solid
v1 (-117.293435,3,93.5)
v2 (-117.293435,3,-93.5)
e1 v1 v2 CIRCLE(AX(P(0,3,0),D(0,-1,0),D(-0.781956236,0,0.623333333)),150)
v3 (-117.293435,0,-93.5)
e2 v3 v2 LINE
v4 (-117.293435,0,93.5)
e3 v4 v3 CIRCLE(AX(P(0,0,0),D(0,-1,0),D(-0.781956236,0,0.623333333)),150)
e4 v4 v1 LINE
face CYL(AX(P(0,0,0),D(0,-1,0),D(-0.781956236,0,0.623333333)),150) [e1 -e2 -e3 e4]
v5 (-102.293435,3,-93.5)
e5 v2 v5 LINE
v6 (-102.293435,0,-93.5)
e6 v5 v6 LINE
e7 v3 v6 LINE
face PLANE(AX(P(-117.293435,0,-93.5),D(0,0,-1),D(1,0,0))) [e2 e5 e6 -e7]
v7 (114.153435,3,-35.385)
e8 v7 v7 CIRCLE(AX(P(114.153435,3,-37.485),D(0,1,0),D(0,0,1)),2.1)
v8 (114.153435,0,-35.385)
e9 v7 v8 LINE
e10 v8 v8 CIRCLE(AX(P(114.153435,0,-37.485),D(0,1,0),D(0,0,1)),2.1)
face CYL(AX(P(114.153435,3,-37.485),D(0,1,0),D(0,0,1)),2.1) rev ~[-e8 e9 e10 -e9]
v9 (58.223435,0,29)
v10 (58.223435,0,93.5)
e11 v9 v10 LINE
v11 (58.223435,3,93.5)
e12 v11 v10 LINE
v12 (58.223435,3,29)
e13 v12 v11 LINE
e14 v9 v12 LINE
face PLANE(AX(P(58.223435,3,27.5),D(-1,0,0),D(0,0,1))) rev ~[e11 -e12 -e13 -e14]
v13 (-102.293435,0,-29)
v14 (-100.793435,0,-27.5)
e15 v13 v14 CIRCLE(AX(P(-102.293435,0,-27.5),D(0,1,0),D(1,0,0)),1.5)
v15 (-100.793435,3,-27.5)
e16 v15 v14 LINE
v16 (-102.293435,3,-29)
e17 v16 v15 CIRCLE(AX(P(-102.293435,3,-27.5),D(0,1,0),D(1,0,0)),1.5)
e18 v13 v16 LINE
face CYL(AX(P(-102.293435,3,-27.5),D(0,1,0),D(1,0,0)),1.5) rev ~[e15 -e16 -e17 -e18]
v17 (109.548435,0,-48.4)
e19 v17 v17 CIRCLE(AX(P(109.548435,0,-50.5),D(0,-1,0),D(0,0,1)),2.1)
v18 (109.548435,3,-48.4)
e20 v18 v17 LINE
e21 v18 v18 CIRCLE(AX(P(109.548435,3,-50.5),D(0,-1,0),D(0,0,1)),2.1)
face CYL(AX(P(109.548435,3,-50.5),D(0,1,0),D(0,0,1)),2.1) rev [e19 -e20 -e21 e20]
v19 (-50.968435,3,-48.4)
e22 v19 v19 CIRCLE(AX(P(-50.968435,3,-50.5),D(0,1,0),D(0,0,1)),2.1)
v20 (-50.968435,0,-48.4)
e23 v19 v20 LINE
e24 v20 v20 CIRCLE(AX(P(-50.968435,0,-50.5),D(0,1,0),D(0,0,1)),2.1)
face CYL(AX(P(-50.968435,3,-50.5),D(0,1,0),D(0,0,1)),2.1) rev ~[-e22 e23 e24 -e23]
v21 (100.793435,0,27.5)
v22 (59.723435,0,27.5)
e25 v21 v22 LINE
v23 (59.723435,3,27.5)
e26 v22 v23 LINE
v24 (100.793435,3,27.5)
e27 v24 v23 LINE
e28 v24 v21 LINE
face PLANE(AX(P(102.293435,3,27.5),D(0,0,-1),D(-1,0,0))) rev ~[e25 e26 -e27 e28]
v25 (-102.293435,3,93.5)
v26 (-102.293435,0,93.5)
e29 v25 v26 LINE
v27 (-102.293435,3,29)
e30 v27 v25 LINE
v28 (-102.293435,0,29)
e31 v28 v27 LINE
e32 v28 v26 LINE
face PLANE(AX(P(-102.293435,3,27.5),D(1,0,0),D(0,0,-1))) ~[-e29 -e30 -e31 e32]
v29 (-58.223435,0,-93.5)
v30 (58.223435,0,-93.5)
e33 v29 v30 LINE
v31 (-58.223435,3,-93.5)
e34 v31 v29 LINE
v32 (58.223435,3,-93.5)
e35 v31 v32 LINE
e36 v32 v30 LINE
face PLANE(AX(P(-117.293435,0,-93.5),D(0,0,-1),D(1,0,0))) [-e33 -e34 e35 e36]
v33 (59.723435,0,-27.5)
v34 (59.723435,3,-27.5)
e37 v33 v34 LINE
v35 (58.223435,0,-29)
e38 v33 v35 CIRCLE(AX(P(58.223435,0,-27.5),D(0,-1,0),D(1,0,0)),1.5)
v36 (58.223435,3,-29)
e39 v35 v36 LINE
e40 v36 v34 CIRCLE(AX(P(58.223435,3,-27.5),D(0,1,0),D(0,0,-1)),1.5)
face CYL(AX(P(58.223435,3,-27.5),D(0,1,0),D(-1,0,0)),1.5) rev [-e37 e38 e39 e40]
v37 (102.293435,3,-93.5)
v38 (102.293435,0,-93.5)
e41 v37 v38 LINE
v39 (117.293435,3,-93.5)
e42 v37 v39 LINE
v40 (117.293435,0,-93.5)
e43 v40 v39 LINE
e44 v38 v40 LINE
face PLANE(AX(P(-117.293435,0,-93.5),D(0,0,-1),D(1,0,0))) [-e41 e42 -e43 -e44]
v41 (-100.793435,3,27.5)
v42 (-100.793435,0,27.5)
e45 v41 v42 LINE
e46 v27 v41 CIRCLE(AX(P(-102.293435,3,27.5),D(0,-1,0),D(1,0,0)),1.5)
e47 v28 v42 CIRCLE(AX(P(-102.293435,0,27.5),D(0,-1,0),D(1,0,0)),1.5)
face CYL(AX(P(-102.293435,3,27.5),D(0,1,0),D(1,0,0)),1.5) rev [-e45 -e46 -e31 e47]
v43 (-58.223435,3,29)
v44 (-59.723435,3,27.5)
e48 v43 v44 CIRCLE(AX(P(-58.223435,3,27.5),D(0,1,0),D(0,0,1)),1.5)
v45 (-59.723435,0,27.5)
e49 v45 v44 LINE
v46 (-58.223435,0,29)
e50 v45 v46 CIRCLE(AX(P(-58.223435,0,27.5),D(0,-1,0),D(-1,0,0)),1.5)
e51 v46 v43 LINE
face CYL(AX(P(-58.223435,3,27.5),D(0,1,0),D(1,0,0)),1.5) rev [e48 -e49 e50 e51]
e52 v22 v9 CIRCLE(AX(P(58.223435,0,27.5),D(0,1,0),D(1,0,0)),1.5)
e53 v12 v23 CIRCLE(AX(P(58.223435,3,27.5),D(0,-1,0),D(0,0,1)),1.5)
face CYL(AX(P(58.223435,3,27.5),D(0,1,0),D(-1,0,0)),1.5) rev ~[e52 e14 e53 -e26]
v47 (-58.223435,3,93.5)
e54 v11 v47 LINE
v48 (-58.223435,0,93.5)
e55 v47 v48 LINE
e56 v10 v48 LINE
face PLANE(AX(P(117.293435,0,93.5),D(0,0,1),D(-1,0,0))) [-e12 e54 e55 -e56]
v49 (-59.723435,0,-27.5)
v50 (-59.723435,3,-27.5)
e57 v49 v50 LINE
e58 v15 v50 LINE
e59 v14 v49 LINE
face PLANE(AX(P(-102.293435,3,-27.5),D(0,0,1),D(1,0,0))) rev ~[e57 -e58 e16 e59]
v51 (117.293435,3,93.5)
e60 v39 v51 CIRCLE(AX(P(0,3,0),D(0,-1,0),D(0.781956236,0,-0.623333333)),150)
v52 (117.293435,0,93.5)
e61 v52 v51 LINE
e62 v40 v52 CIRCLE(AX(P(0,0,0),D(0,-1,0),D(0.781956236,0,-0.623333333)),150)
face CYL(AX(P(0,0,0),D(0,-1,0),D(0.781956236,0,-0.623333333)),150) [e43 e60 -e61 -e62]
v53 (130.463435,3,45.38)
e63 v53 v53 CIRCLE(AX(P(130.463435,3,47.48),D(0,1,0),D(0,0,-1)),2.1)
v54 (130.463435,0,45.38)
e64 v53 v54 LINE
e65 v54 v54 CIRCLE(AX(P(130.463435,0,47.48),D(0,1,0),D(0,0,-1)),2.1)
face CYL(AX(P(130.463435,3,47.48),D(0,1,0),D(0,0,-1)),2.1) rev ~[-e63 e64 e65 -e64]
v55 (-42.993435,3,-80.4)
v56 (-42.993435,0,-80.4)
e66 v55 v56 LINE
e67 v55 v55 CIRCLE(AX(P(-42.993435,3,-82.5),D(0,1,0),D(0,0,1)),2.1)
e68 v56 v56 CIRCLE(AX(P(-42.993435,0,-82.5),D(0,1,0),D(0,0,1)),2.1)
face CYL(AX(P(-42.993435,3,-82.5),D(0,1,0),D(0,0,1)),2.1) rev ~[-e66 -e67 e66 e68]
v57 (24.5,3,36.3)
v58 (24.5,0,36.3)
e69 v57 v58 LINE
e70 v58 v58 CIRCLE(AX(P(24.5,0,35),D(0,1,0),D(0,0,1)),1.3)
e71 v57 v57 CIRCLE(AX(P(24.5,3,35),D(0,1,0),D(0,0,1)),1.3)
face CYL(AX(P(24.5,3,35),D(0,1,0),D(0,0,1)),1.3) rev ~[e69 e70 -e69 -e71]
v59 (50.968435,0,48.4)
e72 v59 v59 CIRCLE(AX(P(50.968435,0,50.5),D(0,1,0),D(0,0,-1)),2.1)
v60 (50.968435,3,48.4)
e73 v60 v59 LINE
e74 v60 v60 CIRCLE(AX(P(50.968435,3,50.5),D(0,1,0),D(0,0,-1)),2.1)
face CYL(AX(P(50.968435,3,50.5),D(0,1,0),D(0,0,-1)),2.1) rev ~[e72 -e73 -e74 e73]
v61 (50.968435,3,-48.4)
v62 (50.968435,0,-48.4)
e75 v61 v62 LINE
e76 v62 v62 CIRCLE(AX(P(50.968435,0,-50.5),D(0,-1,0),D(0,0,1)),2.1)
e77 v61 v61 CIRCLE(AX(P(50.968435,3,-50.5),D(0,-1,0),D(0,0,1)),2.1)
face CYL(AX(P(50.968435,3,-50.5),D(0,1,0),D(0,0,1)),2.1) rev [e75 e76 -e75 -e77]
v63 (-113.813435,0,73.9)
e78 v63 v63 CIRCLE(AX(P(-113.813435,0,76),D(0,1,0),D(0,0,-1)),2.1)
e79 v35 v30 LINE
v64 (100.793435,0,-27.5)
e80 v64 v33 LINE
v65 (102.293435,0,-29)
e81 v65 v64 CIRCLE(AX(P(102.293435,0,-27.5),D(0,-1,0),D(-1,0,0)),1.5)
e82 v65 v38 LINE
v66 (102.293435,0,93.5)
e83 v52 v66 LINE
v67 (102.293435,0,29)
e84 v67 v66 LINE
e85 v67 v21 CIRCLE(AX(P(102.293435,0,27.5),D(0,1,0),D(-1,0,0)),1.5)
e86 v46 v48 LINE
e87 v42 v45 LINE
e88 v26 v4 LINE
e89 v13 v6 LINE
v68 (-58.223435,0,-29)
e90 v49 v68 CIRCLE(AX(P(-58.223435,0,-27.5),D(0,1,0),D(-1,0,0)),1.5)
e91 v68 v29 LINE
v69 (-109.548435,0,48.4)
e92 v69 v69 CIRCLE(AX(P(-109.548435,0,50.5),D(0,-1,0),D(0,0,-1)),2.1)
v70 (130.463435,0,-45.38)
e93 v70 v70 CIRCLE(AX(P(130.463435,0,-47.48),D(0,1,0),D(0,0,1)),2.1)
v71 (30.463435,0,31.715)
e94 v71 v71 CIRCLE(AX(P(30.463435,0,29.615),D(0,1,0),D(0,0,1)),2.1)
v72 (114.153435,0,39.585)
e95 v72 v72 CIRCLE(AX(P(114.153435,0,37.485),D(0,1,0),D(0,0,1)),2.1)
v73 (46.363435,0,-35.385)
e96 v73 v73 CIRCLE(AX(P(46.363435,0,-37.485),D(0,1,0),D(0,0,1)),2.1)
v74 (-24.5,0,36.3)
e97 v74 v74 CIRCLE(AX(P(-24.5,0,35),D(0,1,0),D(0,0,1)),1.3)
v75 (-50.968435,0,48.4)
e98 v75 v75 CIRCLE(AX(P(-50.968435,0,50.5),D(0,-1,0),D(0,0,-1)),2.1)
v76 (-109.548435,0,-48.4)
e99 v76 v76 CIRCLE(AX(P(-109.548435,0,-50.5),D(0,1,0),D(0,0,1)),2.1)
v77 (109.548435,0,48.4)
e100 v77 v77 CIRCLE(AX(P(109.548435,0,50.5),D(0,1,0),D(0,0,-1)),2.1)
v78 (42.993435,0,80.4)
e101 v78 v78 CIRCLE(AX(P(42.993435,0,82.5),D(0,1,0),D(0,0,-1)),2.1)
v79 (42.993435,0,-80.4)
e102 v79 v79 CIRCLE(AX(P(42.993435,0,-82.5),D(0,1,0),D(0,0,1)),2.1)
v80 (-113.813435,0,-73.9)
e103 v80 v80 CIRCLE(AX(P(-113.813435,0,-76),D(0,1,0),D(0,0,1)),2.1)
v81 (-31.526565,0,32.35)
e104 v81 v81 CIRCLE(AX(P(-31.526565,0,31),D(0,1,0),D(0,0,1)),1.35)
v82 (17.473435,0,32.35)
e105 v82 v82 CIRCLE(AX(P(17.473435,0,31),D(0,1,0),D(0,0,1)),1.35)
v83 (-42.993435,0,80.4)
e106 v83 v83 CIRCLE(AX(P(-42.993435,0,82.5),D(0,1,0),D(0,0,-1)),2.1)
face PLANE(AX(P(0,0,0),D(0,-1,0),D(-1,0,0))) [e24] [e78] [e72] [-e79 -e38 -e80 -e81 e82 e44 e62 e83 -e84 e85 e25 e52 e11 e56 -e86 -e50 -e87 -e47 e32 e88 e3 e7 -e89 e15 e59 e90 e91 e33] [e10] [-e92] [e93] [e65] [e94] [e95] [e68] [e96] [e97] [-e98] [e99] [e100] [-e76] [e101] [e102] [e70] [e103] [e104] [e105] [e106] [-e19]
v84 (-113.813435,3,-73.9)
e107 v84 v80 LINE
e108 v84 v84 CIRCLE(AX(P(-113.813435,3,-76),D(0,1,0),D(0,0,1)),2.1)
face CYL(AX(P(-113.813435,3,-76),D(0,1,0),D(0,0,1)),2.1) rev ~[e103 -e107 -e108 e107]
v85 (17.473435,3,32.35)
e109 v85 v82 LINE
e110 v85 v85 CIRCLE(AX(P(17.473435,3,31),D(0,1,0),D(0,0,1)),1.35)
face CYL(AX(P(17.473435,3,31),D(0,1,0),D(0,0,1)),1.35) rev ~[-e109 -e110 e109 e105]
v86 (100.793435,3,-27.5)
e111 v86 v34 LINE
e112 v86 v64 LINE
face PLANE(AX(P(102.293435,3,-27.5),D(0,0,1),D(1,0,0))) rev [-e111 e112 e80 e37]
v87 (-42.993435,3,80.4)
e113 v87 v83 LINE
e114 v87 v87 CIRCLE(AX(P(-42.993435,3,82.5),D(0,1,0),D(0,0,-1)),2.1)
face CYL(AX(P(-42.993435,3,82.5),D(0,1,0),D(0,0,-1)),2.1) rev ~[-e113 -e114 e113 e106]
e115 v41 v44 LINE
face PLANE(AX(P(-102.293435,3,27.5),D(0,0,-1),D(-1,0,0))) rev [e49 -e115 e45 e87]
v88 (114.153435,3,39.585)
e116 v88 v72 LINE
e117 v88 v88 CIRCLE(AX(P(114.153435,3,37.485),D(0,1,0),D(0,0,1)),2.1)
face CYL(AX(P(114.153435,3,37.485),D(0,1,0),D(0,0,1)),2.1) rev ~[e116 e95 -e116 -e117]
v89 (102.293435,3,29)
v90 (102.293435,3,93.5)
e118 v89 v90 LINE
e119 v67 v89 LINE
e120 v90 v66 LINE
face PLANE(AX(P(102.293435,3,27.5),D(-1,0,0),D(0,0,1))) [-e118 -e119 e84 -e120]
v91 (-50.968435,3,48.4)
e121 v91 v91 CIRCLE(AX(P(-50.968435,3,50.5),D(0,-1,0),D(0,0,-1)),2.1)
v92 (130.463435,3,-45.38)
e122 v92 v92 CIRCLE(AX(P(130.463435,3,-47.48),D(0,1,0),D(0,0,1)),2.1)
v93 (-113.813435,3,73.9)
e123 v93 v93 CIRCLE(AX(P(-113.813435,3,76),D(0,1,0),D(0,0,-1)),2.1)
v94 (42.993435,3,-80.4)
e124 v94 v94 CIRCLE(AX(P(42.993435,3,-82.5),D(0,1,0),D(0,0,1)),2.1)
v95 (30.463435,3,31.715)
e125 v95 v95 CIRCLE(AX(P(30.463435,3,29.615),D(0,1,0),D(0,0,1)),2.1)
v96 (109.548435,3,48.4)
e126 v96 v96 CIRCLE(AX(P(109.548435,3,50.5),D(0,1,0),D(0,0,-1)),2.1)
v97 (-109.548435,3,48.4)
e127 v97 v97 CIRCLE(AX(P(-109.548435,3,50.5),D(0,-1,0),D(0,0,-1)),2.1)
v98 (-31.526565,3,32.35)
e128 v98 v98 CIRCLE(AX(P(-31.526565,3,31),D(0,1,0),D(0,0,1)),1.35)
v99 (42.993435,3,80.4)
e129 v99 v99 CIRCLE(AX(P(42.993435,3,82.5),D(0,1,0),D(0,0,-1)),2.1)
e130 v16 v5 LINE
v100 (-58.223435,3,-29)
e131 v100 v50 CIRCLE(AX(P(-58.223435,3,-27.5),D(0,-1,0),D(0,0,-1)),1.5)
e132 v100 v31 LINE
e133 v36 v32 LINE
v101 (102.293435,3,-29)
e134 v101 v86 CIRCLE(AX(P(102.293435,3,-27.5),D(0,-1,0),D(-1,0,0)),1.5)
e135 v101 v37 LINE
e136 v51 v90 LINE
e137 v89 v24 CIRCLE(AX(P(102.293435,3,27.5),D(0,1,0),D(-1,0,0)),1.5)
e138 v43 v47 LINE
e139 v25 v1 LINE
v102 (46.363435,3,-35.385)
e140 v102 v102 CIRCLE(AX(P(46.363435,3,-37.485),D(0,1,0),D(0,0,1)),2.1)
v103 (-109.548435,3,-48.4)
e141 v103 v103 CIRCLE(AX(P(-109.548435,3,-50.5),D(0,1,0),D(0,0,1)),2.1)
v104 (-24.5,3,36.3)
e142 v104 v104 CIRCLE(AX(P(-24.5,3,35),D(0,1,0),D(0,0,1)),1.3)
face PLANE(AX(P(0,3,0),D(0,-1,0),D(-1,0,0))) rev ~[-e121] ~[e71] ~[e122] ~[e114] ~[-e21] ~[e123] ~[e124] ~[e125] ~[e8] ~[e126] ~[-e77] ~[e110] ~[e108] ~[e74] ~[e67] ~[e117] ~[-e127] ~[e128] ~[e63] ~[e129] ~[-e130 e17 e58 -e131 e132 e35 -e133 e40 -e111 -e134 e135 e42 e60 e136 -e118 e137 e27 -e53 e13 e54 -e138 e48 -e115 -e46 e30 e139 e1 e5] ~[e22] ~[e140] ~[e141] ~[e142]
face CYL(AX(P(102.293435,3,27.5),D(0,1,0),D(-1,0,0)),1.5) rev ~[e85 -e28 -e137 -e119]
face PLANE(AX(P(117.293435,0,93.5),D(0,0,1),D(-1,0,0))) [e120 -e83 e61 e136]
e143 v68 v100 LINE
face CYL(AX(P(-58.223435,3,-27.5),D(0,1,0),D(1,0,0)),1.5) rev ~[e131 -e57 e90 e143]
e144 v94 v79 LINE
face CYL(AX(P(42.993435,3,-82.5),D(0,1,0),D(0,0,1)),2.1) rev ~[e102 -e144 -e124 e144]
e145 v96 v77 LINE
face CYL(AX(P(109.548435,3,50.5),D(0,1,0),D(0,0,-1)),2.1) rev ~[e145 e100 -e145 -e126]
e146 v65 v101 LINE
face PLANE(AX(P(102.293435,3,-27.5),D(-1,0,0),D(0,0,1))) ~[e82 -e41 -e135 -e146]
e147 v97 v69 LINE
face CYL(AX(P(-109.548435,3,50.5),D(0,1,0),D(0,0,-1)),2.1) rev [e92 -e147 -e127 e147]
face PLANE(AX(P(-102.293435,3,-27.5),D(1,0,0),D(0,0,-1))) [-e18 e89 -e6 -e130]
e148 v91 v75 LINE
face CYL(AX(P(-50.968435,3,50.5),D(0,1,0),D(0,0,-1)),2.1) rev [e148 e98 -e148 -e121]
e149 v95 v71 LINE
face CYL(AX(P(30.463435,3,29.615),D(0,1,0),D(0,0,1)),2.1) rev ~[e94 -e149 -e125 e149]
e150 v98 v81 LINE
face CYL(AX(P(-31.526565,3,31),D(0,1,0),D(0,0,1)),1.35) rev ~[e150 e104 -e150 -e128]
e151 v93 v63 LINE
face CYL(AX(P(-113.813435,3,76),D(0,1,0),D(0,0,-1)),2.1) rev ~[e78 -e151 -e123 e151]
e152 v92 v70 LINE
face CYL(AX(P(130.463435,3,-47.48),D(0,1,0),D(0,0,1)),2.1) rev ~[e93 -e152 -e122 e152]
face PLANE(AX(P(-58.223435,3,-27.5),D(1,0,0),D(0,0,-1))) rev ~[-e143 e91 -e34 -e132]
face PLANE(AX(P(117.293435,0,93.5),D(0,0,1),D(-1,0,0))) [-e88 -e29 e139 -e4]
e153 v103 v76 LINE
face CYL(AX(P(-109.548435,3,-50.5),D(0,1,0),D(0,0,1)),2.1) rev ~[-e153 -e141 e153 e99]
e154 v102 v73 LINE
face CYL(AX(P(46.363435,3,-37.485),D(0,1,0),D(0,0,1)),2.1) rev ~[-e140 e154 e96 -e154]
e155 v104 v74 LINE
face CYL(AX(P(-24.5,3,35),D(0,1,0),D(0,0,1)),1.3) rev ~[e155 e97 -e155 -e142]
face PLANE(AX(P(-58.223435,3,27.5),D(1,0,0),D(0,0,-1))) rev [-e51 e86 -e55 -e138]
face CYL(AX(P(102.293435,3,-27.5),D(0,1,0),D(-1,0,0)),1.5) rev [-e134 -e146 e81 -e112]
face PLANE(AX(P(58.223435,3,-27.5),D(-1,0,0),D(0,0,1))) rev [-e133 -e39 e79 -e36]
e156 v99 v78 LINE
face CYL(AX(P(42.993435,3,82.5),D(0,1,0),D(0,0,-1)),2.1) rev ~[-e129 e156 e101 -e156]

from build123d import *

# Parameters (mm, degrees)
BOSS_EXTRUDE1_DEPTH                        = 3
CUT_EXTRUDE1_REACH                         = 178.78
SKETCH2_R                                  = 2.1
SKETCH2_W                                  = 44.07
SKETCH2_H                                  = 66
MIRROR4_AT_THE_SECOND_PLANE_COPY_1_REACH   = 178.78
MIRROR4_AT_THE_SECOND_PLANE_COPY_1_SKETC_R = 2.1
MIRROR4_AT_THE_SECOND_PLANE_COPY_1_SKETC_W = 44.07
MIRROR4_AT_THE_SECOND_PLANE_COPY_1_SKETC_H = 66
SKETCH3_R                                  = 2.1
CUT_EXTRUDE2_DEPTH                         = 177.780230795
CUT_EXTRUDE5_REACH                         = 178.78
SKETCH6_R                                  = 1.35
SKETCH6_R_2                                = 2.1
SKETCH6_R_3                                = 1.3
CUT_EXTRUDE12_REACH                        = 178.78
SKETCH13_R                                 = 1.5
MIRROR6_AT_THE_SECOND_PLANE_COPY_1_REACH   = 178.78
MIRROR6_AT_THE_SECOND_PLANE_COPY_1_SKETC_R = 1.5


with BuildPart() as part:
    # Sketch1 → Boss-Extrude1 (new body)
    with BuildSketch(Plane(origin=(0, 0, 0), x_dir=(1, 0, 0), z_dir=(0, 1, 0))):
        with BuildLine():
            Line((-117.293435451, 93.5), (117.293435451, 93.5))
            ThreePointArc((117.293435451, 93.5), (150, 0), (117.293435451, -93.5))
            Line((117.293435451, -93.5), (-117.293435451, -93.5))
            ThreePointArc((-117.293435451, -93.5), (-150, 0), (-117.293435451, 93.5))
        make_face()
    extrude(amount=BOSS_EXTRUDE1_DEPTH)

    # Sketch2 → Cut-Extrude1 (cut, up to next)
    with BuildSketch(Plane(origin=(0, 3, 0), x_dir=(1, 0, 0), z_dir=(0, 1, 0)), mode=Mode.PRIVATE) as cut_extrude1_sk1:
        with Locations((-109.548435451, 50.5)):
            Circle(SKETCH2_R)
    cut_extrude1_tool1 = extrude(cut_extrude1_sk1.sketch, amount=-CUT_EXTRUDE1_REACH, mode=Mode.PRIVATE) & part.part
    # Sketch2 → Cut-Extrude1 (cut, up to next)
    with BuildSketch(Plane(origin=(0, 3, 0), x_dir=(1, 0, 0), z_dir=(0, 1, 0)), mode=Mode.PRIVATE) as cut_extrude1_sk2:
        with Locations((-50.968435451, 50.5)):
            Circle(SKETCH2_R)
    cut_extrude1_tool2 = extrude(cut_extrude1_sk2.sketch, amount=-CUT_EXTRUDE1_REACH, mode=Mode.PRIVATE) & part.part
    # Sketch2 → Cut-Extrude1 (cut, up to next)
    with BuildSketch(Plane(origin=(0, 3, 0), x_dir=(1, 0, 0), z_dir=(0, 1, 0)), mode=Mode.PRIVATE) as cut_extrude1_sk3:
        with Locations((-80.258435451, 60.5)):
            Rectangle(SKETCH2_W, SKETCH2_H)
    cut_extrude1_tool3 = extrude(cut_extrude1_sk3.sketch, amount=-CUT_EXTRUDE1_REACH, mode=Mode.PRIVATE) & part.part
    cut_extrude1_1 = cut_extrude1_tool1.solids().sort_by_distance((-109.548435, 3, -50.5))[0]
    add(cut_extrude1_1, mode=Mode.SUBTRACT)
    cut_extrude1_2 = cut_extrude1_tool2.solids().sort_by_distance((-50.968435, 3, -50.5))[0]
    add(cut_extrude1_2, mode=Mode.SUBTRACT)
    cut_extrude1_3 = cut_extrude1_tool3.solids().sort_by_distance((-80.258435, 3, -60.5))[0]
    add(cut_extrude1_3, mode=Mode.SUBTRACT)
    cut_extrude1 = cut_extrude1_1 + cut_extrude1_2 + cut_extrude1_3  # Cut-Extrude1 as one shape, for the pattern or mirror that repeats it

    # Mirror4: Cut-Extrude1 across plane
    add(cut_extrude1.mirror(Plane.XY), mode=Mode.SUBTRACT)

    # Mirror4 at the second plane: Cut-Extrude1 across plane
    add(cut_extrude1.mirror(Plane(origin=(0, 0, 0), x_dir=(0, 0, 1), z_dir=(1, 0, 0))), mode=Mode.SUBTRACT)

    # Mirror4 at the second plane copy 1 sketc → Mirror4 at the second plane copy 1 (cut, up to next)
    with BuildSketch(Plane(origin=(0, 3, 0), x_dir=(-1, 0, 0), z_dir=(0, 1, 0)), mode=Mode.PRIVATE) as mirror4_at_the_second_plane_copy_1_sk1:
        with Locations((-109.548435451, 50.5)):
            Circle(MIRROR4_AT_THE_SECOND_PLANE_COPY_1_SKETC_R)
    mirror4_at_the_second_plane_copy_1_tool1 = extrude(mirror4_at_the_second_plane_copy_1_sk1.sketch, amount=-MIRROR4_AT_THE_SECOND_PLANE_COPY_1_REACH, mode=Mode.PRIVATE) & part.part
    # Mirror4 at the second plane copy 1 sketc → Mirror4 at the second plane copy 1 (cut, up to next)
    with BuildSketch(Plane(origin=(0, 3, 0), x_dir=(-1, 0, 0), z_dir=(0, 1, 0)), mode=Mode.PRIVATE) as mirror4_at_the_second_plane_copy_1_sk2:
        with Locations((-50.968435451, 50.5)):
            Circle(MIRROR4_AT_THE_SECOND_PLANE_COPY_1_SKETC_R)
    mirror4_at_the_second_plane_copy_1_tool2 = extrude(mirror4_at_the_second_plane_copy_1_sk2.sketch, amount=-MIRROR4_AT_THE_SECOND_PLANE_COPY_1_REACH, mode=Mode.PRIVATE) & part.part
    # Mirror4 at the second plane copy 1 sketc → Mirror4 at the second plane copy 1 (cut, up to next)
    with BuildSketch(Plane(origin=(0, 3, 0), x_dir=(-1, 0, 0), z_dir=(0, 1, 0)), mode=Mode.PRIVATE) as mirror4_at_the_second_plane_copy_1_sk3:
        with Locations((-80.258435451, 60.5)):
            Rectangle(MIRROR4_AT_THE_SECOND_PLANE_COPY_1_SKETC_W, MIRROR4_AT_THE_SECOND_PLANE_COPY_1_SKETC_H)
    mirror4_at_the_second_plane_copy_1_tool3 = extrude(mirror4_at_the_second_plane_copy_1_sk3.sketch, amount=-MIRROR4_AT_THE_SECOND_PLANE_COPY_1_REACH, mode=Mode.PRIVATE) & part.part
    add(mirror4_at_the_second_plane_copy_1_tool1.solids().sort_by_distance((109.548435, 3, 50.5))[0], mode=Mode.SUBTRACT)
    add(mirror4_at_the_second_plane_copy_1_tool2.solids().sort_by_distance((50.968435, 3, 50.5))[0], mode=Mode.SUBTRACT)
    add(mirror4_at_the_second_plane_copy_1_tool3.solids().sort_by_distance((80.258435, 3, 60.5))[0], mode=Mode.SUBTRACT)

    # Sketch3 → Cut-Extrude2 (cut, through all)
    with BuildSketch(Plane(origin=(0, 3, 0), x_dir=(1, 0, 0), z_dir=(0, 1, 0))):
        with Locations((-42.993435451, 82.5)):
            Circle(SKETCH3_R)
        with Locations((42.993435451, 82.5)):
            Circle(SKETCH3_R)
        with Locations((-113.813435451, 76)):
            Circle(SKETCH3_R)
        with Locations((130.463435451, 47.48)):
            Circle(SKETCH3_R)
        with Locations((130.463435451, -47.48)):
            Circle(SKETCH3_R)
        with Locations((42.993435451, -82.5)):
            Circle(SKETCH3_R)
        with Locations((-42.993435451, -82.5)):
            Circle(SKETCH3_R)
        with Locations((-113.813435451, -76)):
            Circle(SKETCH3_R)
    extrude(amount=-CUT_EXTRUDE2_DEPTH, mode=Mode.SUBTRACT)

    # Sketch6 → Cut-Extrude5 (cut, up to next)
    with BuildSketch(Plane(origin=(0, 3, 0), x_dir=(1, 0, 0), z_dir=(0, 1, 0)), mode=Mode.PRIVATE) as cut_extrude5_sk1:
        with Locations((-31.526564549, -31)):
            Circle(SKETCH6_R)
    cut_extrude5_tool1 = extrude(cut_extrude5_sk1.sketch, amount=-CUT_EXTRUDE5_REACH, mode=Mode.PRIVATE) & part.part
    # Sketch6 → Cut-Extrude5 (cut, up to next)
    with BuildSketch(Plane(origin=(0, 3, 0), x_dir=(1, 0, 0), z_dir=(0, 1, 0)), mode=Mode.PRIVATE) as cut_extrude5_sk2:
        with Locations((17.473435451, -31)):
            Circle(SKETCH6_R)
    cut_extrude5_tool2 = extrude(cut_extrude5_sk2.sketch, amount=-CUT_EXTRUDE5_REACH, mode=Mode.PRIVATE) & part.part
    # Sketch6 → Cut-Extrude5 (cut, up to next)
    with BuildSketch(Plane(origin=(0, 3, 0), x_dir=(1, 0, 0), z_dir=(0, 1, 0)), mode=Mode.PRIVATE) as cut_extrude5_sk3:
        with Locations((114.153435451, 37.485)):
            Circle(SKETCH6_R_2)
    cut_extrude5_tool3 = extrude(cut_extrude5_sk3.sketch, amount=-CUT_EXTRUDE5_REACH, mode=Mode.PRIVATE) & part.part
    # Sketch6 → Cut-Extrude5 (cut, up to next)
    with BuildSketch(Plane(origin=(0, 3, 0), x_dir=(1, 0, 0), z_dir=(0, 1, 0)), mode=Mode.PRIVATE) as cut_extrude5_sk4:
        with Locations((114.153435451, -37.485)):
            Circle(SKETCH6_R_2)
    cut_extrude5_tool4 = extrude(cut_extrude5_sk4.sketch, amount=-CUT_EXTRUDE5_REACH, mode=Mode.PRIVATE) & part.part
    # Sketch6 → Cut-Extrude5 (cut, up to next)
    with BuildSketch(Plane(origin=(0, 3, 0), x_dir=(1, 0, 0), z_dir=(0, 1, 0)), mode=Mode.PRIVATE) as cut_extrude5_sk5:
        with Locations((46.363435451, 37.485)):
            Circle(SKETCH6_R_2)
    cut_extrude5_tool5 = extrude(cut_extrude5_sk5.sketch, amount=-CUT_EXTRUDE5_REACH, mode=Mode.PRIVATE) & part.part
    # Sketch6 → Cut-Extrude5 (cut, up to next)
    with BuildSketch(Plane(origin=(0, 3, 0), x_dir=(1, 0, 0), z_dir=(0, 1, 0)), mode=Mode.PRIVATE) as cut_extrude5_sk6:
        with Locations((-24.5, -35)):
            Circle(SKETCH6_R_3)
    cut_extrude5_tool6 = extrude(cut_extrude5_sk6.sketch, amount=-CUT_EXTRUDE5_REACH, mode=Mode.PRIVATE) & part.part
    # Sketch6 → Cut-Extrude5 (cut, up to next)
    with BuildSketch(Plane(origin=(0, 3, 0), x_dir=(1, 0, 0), z_dir=(0, 1, 0)), mode=Mode.PRIVATE) as cut_extrude5_sk7:
        with Locations((24.5, -35)):
            Circle(SKETCH6_R_3)
    cut_extrude5_tool7 = extrude(cut_extrude5_sk7.sketch, amount=-CUT_EXTRUDE5_REACH, mode=Mode.PRIVATE) & part.part
    # Sketch6 → Cut-Extrude5 (cut, up to next)
    with BuildSketch(Plane(origin=(0, 3, 0), x_dir=(1, 0, 0), z_dir=(0, 1, 0)), mode=Mode.PRIVATE) as cut_extrude5_sk8:
        with Locations((30.463435451, -29.615)):
            Circle(SKETCH6_R_2)
    cut_extrude5_tool8 = extrude(cut_extrude5_sk8.sketch, amount=-CUT_EXTRUDE5_REACH, mode=Mode.PRIVATE) & part.part
    add(cut_extrude5_tool1.solids().sort_by_distance((-31.526565, 3, 31))[0], mode=Mode.SUBTRACT)
    add(cut_extrude5_tool2.solids().sort_by_distance((17.473435, 3, 31))[0], mode=Mode.SUBTRACT)
    add(cut_extrude5_tool3.solids().sort_by_distance((114.153435, 3, -37.485))[0], mode=Mode.SUBTRACT)
    add(cut_extrude5_tool4.solids().sort_by_distance((114.153435, 3, 37.485))[0], mode=Mode.SUBTRACT)
    add(cut_extrude5_tool5.solids().sort_by_distance((46.363435, 3, -37.485))[0], mode=Mode.SUBTRACT)
    add(cut_extrude5_tool6.solids().sort_by_distance((-24.5, 3, 35))[0], mode=Mode.SUBTRACT)
    add(cut_extrude5_tool7.solids().sort_by_distance((24.5, 3, 35))[0], mode=Mode.SUBTRACT)
    add(cut_extrude5_tool8.solids().sort_by_distance((30.463435, 3, 29.615))[0], mode=Mode.SUBTRACT)

    # Sketch13 → Cut-Extrude12 (cut, up to next)
    with BuildSketch(Plane(origin=(0, 3, 0), x_dir=(1, 0, 0), z_dir=(0, 1, 0)), mode=Mode.PRIVATE) as cut_extrude12_sk1:
        with Locations((-102.293435451, 27.5)):
            Circle(SKETCH13_R)
    cut_extrude12_tool1 = extrude(cut_extrude12_sk1.sketch, amount=-CUT_EXTRUDE12_REACH, mode=Mode.PRIVATE) & part.part
    # Sketch13 → Cut-Extrude12 (cut, up to next)
    with BuildSketch(Plane(origin=(0, 3, 0), x_dir=(1, 0, 0), z_dir=(0, 1, 0)), mode=Mode.PRIVATE) as cut_extrude12_sk2:
        with Locations((-58.223435451, 27.5)):
            Circle(SKETCH13_R)
    cut_extrude12_tool2 = extrude(cut_extrude12_sk2.sketch, amount=-CUT_EXTRUDE12_REACH, mode=Mode.PRIVATE) & part.part
    cut_extrude12_1 = cut_extrude12_tool1.solids().sort_by_distance((-102.293435, 3, -27.5))[0]
    add(cut_extrude12_1, mode=Mode.SUBTRACT)
    cut_extrude12_2 = cut_extrude12_tool2.solids().sort_by_distance((-58.223435, 3, -27.5))[0]
    add(cut_extrude12_2, mode=Mode.SUBTRACT)
    cut_extrude12 = cut_extrude12_1 + cut_extrude12_2  # Cut-Extrude12 as one shape, for the pattern or mirror that repeats it

    # Mirror6: Cut-Extrude12 across plane
    add(cut_extrude12.mirror(Plane(origin=(0, 0, 0), x_dir=(0, 0, 1), z_dir=(1, 0, 0))), mode=Mode.SUBTRACT)

    # Mirror6 at the second plane: Cut-Extrude12 across plane
    add(cut_extrude12.mirror(Plane.XY), mode=Mode.SUBTRACT)

    # Mirror6 at the second plane copy 1 sketc → Mirror6 at the second plane copy 1 (cut, up to next)
    with BuildSketch(Plane(origin=(0, 3, 0), x_dir=(-1, 0, 0), z_dir=(0, 1, 0)), mode=Mode.PRIVATE) as mirror6_at_the_second_plane_copy_1_sk1:
        with Locations((-102.293435451, 27.5)):
            Circle(MIRROR6_AT_THE_SECOND_PLANE_COPY_1_SKETC_R)
    mirror6_at_the_second_plane_copy_1_tool1 = extrude(mirror6_at_the_second_plane_copy_1_sk1.sketch, amount=-MIRROR6_AT_THE_SECOND_PLANE_COPY_1_REACH, mode=Mode.PRIVATE) & part.part
    # Mirror6 at the second plane copy 1 sketc → Mirror6 at the second plane copy 1 (cut, up to next)
    with BuildSketch(Plane(origin=(0, 3, 0), x_dir=(-1, 0, 0), z_dir=(0, 1, 0)), mode=Mode.PRIVATE) as mirror6_at_the_second_plane_copy_1_sk2:
        with Locations((-58.223435451, 27.5)):
            Circle(MIRROR6_AT_THE_SECOND_PLANE_COPY_1_SKETC_R)
    mirror6_at_the_second_plane_copy_1_tool2 = extrude(mirror6_at_the_second_plane_copy_1_sk2.sketch, amount=-MIRROR6_AT_THE_SECOND_PLANE_COPY_1_REACH, mode=Mode.PRIVATE) & part.part
    add(mirror6_at_the_second_plane_copy_1_tool1.solids().sort_by_distance((102.293435, 3, 27.5))[0], mode=Mode.SUBTRACT)
    add(mirror6_at_the_second_plane_copy_1_tool2.solids().sort_by_distance((58.223435, 3, 27.5))[0], mode=Mode.SUBTRACT)


solid = part.part
